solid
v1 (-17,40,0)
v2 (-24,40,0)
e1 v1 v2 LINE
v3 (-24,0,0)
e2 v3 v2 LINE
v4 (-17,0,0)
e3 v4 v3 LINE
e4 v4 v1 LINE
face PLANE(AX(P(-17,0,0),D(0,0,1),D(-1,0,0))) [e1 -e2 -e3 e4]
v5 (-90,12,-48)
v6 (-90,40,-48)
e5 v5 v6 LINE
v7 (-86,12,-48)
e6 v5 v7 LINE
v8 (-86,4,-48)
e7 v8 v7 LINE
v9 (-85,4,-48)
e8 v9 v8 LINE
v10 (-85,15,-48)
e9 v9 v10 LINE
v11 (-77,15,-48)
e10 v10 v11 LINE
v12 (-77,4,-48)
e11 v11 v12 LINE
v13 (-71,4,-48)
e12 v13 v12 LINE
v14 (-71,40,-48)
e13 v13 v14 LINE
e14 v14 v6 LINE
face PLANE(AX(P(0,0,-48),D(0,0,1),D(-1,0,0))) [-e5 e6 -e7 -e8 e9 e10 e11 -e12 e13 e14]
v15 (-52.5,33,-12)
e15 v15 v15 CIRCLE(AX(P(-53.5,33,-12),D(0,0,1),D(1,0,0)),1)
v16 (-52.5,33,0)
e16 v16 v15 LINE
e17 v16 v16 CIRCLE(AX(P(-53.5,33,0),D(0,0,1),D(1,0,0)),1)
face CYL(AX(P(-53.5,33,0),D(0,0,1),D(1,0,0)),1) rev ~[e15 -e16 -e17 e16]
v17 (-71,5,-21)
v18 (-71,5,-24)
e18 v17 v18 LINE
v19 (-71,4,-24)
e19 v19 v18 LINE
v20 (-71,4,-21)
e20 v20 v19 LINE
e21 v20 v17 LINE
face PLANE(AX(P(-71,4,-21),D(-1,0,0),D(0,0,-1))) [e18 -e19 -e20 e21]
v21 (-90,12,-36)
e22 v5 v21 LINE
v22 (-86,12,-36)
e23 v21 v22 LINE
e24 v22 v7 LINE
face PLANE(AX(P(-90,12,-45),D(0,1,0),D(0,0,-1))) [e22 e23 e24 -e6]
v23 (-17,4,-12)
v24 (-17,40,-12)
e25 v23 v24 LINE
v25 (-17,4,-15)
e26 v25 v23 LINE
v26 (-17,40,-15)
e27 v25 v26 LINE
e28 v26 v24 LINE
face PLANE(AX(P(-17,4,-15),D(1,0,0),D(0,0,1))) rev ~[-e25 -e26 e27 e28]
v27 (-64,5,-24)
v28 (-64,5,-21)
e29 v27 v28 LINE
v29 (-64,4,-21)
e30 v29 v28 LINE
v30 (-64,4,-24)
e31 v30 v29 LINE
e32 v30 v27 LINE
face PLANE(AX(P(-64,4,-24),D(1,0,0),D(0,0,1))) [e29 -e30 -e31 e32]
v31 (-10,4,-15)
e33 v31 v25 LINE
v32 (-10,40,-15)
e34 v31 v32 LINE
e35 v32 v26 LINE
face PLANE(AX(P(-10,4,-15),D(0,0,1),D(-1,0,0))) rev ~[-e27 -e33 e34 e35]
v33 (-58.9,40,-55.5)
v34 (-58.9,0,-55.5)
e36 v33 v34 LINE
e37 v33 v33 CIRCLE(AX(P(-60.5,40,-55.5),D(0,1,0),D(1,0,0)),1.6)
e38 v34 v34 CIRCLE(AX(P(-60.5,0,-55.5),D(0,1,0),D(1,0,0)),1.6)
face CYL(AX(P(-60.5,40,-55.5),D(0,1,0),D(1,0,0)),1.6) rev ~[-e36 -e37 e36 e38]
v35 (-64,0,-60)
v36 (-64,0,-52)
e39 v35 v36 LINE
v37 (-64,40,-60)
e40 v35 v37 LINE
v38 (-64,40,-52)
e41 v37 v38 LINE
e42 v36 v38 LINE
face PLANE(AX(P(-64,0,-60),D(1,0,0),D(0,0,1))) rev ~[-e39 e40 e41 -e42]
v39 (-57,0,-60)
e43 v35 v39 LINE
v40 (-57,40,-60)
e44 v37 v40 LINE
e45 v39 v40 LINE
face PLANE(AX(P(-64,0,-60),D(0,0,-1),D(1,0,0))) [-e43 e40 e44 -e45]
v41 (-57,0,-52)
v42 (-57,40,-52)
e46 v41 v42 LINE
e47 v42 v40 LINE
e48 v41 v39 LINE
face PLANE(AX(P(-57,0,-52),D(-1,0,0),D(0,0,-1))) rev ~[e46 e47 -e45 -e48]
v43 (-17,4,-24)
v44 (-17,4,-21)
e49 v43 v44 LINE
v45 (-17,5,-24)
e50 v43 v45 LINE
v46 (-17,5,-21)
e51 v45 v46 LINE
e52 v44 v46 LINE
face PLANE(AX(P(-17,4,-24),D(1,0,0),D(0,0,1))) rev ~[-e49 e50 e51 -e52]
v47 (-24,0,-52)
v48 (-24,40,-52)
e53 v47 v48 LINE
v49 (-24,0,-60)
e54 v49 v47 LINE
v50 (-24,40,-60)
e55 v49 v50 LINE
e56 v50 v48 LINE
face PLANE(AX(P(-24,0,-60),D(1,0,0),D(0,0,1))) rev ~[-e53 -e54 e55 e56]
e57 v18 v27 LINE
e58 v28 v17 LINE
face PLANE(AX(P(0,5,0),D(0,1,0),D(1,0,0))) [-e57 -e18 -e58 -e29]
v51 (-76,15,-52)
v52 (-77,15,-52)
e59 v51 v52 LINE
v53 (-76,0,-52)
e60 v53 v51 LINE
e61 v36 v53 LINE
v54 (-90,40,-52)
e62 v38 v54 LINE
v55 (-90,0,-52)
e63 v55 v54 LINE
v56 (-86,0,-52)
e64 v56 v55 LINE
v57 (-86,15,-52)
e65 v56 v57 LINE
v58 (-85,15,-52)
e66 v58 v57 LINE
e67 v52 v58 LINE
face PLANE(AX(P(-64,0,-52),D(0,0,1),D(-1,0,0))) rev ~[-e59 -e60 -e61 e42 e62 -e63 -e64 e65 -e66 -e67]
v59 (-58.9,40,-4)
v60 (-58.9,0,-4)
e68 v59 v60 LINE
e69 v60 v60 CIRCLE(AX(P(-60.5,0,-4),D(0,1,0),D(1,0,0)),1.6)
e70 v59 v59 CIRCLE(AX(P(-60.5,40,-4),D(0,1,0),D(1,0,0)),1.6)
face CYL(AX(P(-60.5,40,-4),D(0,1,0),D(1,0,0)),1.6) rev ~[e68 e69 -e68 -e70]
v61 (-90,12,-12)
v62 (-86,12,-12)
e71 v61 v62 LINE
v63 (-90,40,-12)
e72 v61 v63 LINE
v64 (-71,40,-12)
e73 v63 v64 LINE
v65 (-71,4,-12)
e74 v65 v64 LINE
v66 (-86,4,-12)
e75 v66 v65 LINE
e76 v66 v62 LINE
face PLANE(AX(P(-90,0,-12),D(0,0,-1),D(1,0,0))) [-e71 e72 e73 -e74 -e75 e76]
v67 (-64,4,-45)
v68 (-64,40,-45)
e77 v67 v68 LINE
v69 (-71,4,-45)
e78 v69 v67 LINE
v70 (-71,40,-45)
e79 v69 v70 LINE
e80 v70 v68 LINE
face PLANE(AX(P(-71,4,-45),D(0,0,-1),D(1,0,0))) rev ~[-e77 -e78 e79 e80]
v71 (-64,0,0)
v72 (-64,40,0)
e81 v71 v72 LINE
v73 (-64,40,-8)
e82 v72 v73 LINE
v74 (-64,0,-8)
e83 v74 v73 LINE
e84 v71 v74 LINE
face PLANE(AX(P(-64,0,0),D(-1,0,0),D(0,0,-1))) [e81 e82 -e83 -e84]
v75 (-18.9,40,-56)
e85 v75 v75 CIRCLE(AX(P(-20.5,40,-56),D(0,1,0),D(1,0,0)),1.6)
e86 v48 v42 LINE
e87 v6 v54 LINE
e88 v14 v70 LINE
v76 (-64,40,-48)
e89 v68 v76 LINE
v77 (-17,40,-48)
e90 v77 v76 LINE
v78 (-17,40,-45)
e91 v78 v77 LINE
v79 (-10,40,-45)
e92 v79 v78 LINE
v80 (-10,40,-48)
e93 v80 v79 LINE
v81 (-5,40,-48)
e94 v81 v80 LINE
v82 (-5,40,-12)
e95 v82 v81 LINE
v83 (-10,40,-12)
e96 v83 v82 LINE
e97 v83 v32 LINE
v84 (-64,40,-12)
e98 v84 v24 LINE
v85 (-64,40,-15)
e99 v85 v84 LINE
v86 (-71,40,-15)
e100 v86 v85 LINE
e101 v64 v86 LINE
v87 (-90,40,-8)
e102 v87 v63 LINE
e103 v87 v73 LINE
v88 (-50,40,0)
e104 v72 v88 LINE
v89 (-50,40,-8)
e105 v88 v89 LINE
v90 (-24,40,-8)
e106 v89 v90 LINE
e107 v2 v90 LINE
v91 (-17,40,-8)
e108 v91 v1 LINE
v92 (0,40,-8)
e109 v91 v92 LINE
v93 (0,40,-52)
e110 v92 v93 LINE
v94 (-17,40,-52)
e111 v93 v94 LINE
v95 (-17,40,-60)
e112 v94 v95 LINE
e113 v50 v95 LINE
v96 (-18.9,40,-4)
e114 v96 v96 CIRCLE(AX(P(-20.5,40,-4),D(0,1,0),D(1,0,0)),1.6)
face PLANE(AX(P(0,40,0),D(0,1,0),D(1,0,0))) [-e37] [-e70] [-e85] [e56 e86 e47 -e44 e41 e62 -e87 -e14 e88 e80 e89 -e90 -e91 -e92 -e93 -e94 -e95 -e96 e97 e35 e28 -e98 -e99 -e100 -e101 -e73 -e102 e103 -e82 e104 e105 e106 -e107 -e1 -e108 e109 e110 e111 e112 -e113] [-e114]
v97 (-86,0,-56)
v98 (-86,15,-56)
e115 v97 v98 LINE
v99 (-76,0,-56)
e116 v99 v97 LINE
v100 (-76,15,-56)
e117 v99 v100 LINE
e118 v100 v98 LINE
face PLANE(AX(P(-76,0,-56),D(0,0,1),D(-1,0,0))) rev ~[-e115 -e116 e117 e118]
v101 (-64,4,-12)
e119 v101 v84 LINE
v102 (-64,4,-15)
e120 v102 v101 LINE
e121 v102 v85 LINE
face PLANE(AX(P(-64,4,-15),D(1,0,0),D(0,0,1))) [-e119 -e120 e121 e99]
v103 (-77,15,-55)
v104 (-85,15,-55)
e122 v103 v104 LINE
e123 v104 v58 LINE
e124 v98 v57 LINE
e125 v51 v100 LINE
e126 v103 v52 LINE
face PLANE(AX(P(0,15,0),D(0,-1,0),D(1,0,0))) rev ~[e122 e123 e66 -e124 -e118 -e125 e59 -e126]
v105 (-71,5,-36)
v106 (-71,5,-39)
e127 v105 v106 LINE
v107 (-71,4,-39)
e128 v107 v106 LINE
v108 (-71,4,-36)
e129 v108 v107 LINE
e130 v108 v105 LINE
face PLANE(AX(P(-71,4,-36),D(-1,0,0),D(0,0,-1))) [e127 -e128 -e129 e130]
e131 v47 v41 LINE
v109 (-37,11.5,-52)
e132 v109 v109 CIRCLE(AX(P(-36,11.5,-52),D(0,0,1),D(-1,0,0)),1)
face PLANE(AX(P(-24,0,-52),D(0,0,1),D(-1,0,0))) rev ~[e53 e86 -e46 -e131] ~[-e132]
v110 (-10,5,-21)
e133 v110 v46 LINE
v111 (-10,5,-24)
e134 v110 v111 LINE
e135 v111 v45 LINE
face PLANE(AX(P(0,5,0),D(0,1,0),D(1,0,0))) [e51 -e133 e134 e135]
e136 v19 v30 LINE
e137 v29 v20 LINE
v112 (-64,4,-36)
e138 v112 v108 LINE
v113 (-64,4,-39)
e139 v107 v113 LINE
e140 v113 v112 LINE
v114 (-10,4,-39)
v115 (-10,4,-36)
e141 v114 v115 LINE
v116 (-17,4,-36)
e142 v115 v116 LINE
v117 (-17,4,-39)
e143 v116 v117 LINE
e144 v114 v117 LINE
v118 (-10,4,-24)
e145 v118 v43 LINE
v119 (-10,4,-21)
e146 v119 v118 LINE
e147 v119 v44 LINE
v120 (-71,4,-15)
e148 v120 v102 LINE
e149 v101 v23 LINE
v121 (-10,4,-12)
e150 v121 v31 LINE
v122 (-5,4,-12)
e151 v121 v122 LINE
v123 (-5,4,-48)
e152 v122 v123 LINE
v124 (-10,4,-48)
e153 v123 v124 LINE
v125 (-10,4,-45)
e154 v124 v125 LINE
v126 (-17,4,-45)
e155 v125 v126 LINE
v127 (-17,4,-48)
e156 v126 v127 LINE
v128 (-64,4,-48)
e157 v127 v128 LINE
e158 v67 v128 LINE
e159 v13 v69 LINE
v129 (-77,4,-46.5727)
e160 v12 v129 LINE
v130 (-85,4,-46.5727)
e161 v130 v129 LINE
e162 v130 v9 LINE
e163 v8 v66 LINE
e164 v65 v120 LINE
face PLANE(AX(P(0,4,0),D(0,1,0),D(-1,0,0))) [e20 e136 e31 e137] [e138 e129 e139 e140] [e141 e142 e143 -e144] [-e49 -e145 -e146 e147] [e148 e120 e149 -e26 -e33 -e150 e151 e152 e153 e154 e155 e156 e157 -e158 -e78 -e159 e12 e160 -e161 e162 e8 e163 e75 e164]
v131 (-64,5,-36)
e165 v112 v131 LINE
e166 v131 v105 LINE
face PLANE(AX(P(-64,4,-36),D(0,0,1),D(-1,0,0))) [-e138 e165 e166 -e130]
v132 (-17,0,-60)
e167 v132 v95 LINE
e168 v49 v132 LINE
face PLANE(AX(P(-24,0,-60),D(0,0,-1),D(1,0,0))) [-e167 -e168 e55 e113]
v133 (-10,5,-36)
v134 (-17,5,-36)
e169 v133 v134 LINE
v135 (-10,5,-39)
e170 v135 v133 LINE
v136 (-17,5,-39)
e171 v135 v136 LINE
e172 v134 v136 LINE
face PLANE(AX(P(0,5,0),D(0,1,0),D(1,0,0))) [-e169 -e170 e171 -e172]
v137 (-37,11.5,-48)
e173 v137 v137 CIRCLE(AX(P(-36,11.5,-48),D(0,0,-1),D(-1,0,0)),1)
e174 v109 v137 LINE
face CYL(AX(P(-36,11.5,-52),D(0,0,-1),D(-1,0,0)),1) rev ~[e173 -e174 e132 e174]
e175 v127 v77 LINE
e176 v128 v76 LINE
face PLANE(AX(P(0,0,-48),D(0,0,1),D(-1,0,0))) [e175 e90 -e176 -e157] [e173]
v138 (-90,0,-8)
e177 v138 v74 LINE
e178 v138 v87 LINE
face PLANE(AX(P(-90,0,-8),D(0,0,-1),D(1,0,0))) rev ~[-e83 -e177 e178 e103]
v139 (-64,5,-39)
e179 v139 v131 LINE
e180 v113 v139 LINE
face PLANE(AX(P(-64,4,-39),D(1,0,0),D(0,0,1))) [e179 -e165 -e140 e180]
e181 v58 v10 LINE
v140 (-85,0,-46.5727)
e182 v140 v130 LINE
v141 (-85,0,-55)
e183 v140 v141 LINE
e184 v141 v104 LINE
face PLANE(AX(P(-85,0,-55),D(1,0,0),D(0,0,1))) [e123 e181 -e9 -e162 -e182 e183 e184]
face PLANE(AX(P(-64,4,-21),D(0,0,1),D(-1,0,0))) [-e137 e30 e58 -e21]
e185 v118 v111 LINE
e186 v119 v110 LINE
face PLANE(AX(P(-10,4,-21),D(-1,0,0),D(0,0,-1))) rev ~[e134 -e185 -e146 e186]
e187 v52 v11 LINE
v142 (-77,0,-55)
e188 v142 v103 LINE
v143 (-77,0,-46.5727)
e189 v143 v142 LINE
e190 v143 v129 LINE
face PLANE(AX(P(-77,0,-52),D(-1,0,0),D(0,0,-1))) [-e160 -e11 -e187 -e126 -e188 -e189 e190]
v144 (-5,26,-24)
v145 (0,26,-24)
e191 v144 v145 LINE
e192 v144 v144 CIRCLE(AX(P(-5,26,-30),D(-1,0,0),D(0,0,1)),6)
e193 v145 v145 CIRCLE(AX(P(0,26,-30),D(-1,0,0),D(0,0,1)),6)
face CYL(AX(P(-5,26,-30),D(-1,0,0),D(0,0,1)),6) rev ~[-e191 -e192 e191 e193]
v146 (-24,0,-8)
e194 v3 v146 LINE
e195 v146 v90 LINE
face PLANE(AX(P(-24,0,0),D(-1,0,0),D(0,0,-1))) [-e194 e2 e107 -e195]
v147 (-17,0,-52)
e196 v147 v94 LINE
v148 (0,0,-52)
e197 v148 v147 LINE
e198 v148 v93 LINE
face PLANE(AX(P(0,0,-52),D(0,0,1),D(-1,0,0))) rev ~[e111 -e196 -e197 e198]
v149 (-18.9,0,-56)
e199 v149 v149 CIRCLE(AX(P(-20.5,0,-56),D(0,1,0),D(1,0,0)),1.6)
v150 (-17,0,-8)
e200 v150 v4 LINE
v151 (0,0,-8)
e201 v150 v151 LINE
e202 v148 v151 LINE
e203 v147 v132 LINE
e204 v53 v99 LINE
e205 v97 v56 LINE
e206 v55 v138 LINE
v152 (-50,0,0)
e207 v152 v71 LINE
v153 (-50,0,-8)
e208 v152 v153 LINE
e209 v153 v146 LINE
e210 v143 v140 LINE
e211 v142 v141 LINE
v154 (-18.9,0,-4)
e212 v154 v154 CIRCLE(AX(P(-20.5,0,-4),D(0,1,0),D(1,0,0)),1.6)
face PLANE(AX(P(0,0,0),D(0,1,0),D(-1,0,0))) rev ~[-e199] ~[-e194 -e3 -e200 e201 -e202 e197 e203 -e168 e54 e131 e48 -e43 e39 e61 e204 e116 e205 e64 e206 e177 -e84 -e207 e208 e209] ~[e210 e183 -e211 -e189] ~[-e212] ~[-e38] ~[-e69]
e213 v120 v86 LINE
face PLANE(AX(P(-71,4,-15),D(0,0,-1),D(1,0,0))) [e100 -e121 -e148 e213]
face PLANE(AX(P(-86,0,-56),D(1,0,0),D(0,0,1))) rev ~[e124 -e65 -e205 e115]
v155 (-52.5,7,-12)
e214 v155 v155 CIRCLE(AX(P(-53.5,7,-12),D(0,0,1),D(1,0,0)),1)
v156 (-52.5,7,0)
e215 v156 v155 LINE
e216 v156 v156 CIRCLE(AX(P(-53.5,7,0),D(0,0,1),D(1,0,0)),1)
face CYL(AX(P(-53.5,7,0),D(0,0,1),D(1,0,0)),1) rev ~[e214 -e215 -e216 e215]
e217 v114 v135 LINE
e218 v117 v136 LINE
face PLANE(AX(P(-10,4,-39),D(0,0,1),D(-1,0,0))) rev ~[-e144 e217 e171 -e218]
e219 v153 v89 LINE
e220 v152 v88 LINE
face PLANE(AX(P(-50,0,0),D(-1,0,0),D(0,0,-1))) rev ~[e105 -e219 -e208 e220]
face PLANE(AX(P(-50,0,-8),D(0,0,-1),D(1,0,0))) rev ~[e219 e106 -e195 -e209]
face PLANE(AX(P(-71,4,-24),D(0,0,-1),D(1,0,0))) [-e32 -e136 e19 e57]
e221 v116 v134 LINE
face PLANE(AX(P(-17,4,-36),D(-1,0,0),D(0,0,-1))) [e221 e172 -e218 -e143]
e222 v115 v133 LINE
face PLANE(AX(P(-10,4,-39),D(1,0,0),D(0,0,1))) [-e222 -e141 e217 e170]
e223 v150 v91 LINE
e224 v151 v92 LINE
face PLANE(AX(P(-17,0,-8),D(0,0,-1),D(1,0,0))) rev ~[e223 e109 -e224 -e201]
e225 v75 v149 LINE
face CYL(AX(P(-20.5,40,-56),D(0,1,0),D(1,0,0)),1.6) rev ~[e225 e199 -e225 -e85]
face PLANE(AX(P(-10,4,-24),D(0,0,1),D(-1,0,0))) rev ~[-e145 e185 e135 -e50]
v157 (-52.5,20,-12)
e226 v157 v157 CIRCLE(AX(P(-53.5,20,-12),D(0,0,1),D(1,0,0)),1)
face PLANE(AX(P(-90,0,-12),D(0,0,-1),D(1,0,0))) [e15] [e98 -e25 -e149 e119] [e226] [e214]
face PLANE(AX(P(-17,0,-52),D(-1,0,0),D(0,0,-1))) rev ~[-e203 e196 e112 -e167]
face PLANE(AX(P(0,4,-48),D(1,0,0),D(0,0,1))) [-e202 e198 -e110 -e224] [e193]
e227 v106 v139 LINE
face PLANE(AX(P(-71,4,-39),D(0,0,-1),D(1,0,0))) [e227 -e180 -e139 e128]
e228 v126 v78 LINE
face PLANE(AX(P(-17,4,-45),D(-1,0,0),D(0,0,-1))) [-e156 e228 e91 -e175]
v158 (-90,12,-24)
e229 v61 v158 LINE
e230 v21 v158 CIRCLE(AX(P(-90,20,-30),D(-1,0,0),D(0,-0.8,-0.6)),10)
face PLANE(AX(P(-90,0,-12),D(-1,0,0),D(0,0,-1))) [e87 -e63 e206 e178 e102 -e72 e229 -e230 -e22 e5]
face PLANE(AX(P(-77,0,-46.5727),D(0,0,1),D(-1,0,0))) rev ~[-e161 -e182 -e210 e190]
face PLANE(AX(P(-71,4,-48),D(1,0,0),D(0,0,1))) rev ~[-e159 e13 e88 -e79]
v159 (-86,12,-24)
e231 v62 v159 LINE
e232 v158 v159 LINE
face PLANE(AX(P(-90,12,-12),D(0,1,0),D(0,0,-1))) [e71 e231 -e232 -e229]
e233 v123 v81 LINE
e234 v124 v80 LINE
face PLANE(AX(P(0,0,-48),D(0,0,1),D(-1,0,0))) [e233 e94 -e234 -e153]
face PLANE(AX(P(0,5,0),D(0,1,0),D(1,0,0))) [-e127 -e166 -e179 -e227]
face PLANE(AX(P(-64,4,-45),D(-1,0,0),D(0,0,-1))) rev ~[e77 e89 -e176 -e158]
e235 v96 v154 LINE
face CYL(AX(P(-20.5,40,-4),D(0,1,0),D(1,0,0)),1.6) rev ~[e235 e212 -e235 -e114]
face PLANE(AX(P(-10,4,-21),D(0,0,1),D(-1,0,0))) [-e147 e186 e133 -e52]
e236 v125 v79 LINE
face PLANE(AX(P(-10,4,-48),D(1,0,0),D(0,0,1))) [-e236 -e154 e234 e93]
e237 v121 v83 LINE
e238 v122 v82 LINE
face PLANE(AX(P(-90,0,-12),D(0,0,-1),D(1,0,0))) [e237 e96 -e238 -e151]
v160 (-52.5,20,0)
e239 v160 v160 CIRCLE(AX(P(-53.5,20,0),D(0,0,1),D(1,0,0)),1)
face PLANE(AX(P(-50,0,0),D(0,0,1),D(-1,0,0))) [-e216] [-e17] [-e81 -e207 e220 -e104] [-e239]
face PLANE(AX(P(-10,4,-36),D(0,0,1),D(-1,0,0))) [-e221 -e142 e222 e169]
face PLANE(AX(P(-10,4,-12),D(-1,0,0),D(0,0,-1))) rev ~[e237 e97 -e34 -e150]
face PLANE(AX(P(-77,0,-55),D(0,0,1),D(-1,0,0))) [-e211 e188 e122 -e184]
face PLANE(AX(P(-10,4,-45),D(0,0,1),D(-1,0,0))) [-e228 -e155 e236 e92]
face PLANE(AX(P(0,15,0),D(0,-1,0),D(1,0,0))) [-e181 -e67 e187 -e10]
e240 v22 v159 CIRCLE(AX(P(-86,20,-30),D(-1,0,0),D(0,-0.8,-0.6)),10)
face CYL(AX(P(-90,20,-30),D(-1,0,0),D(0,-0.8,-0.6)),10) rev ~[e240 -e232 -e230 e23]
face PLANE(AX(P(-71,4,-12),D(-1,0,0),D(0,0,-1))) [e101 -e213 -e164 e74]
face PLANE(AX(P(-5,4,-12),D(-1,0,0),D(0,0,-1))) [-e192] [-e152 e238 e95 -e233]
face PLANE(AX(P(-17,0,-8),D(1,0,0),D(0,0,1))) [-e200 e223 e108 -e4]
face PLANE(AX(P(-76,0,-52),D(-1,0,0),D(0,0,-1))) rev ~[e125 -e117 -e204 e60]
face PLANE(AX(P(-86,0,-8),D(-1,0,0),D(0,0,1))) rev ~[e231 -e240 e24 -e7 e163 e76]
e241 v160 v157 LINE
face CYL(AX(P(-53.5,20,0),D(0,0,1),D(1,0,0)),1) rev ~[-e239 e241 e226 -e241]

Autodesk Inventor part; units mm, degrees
ref_plane "YZ Plane" through (0, 0, 0) normal (1, 0, 0) x (0, 1, 0)
ref_plane "XZ Plane" through (0, 0, 0) normal (0, 1, 0) x (-1, 0, 0)
ref_plane "XY Plane" through (0, 0, 0) normal (0, 0, 1) x (1, 0, 0)
sketch "Sketch1" plane through (0, 0, 0) normal (0, 1, 0) x (-1, 0, 0)
  line L0 (0, 0) -> (90, 0)
  line L1 (90, 0) -> (90, -52)
  line L2 (90, -60) -> (0, -60)
  line L3 (0, -60) -> (0, 0)
  line L4 (0, 0) -> (90, 0)
  line L5 (90, 0) -> (90, -8)
  line L6 (90, -8) -> (0, -8)
  line L7 (0, -8) -> (0, 0)
  line L8 (90, -60) -> (0, -60)
  line L9 (0, -60) -> (0, -52)
  line L10 (0, -52) -> (90, -52)
  line L11 (90, -52) -> (90, -60)
  line L12 (0, -8) -> (90, -8)
  line L13 (90, -8) -> (90, -12)
  line L14 (90, -12) -> (0, -12)
  line L15 (0, -12) -> (0, -8)
  line L16 (90, -52) -> (0, -52)
  line L17 (0, -52) -> (0, -48)
  line L18 (0, -48) -> (90, -48)
  line L19 (90, -48) -> (90, -52)
  line L20 (90, 0) -> (64, 0)
  line L21 (64, 0) -> (64, -8)
  line L22 (64, -8) -> (90, -8)
  line L23 (90, -8) -> (90, 0)
  line L24 (64, -8) -> (57, -8)
  line L25 (57, -8) -> (57, 0)
  line L26 (57, 0) -> (64, 0)
  line L27 (64, 0) -> (64, -8)
  line L28 (57, 0) -> (24, 0)
  line L29 (24, 0) -> (24, -8)
  line L30 (24, -8) -> (57, -8)
  line L31 (57, -8) -> (57, 0)
  line L32 (24, -8) -> (17, -8)
  line L33 (17, -8) -> (17, 0)
  line L34 (17, 0) -> (24, 0)
  line L35 (24, 0) -> (24, -8)
  line L36 (57, 0) -> (50, 0)
  line L37 (50, 0) -> (50, -8)
  line L38 (50, -8) -> (57, -8)
  line L39 (57, -8) -> (57, 0)
  line L40 (64, -52) -> (57, -52)
  line L41 (57, -52) -> (57, -60)
  line L42 (57, -60) -> (64, -60)
  line L43 (64, -60) -> (64, -52)
  line L44 (24, -52) -> (17, -52)
  line L45 (17, -52) -> (17, -60)
  line L46 (17, -60) -> (24, -60)
  line L47 (24, -60) -> (24, -52)
  dimension "d0" = 90
  dimension "d1" = 60
  dimension "d49" = 8
  dimension "d50" = 8
extrude "Extrusion1" add sketch "Sketch1" along normal blind 4 contours L14 L1 L18 L3
extrude "Extrusion2" add sketch "Sketch1" along normal blind 40 contours L0 L29 L6 L33 | L6 L1 L14 L3 | L0 L25 L6 L37 | L18 L1 L10 L3 | L0 L21 L6 L25 | L10 L47 L2 L45 | L43 L2 L41 L10
sketch "Sketch2" plane through (0, 40, 0) normal (0, 1, 0) x (1, 0, 0)
  line L0 (-64, 60) -> (-64, 52) projected
  line L1 (-57, 52) -> (-57, 60) projected
  circle A0 centre (-60.5, 55.5) radius 1.6
  line L2 (-24, 60) -> (-24, 52) projected
  circle A1 centre (-20.5, 56) radius 1.6
  line L3 (-90, 8) -> (-64, 8) projected
  circle A2 centre (-60.5, 4) radius 1.6
  line L4 (-17, 0) -> (-17, 8) projected
  line L5 (-24, 0) -> (-17, 0) projected
  circle A3 centre (-20.5, 4) radius 1.6
  point P0 (0, 0)
  point P1 (-17, 52)
  dimension "d6" = 3.2
  dimension "d7" = 3.2
  dimension "d9" = 3.2
  dimension "d10" = 3.2
extrude "Extrusion3" cut sketch "Sketch2" against normal blind 100
sketch "Sketch3" plane through (-64, 0, 0) normal (0, 0, 1) x (1, 0, 0)
  line L0 (0, 0) -> (14, 0) projected
  line L1 (7, 0) -> (7, 40) projected
  line L2 (7, 0) -> (7, 40)
  line L3 (0, 40) -> (14, 40) projected
  circle A0 centre (10.5, 20) radius 1
  circle A1 centre (10.5, 33) radius 1
  circle A2 centre (10.5, 7) radius 1
  point P0 (64, 0)
  dimension "d13" = 2
extrude "Extrusion4" cut sketch "Sketch3" against normal blind 30
sketch "Sketch4" plane through (0, 4, 0) normal (0, 1, 0) x (1, 0, 0)
  line L0 (0, 12) -> (-90, 12) projected
  line L1 (0, 48) -> (-90, 48) projected
  line L2 (-90, 12) -> (-86.8, 12)
  line L3 (-86.8, 12) -> (-86.8, 48)
  line L4 (-86.8, 48) -> (-90, 48)
  line L5 (-90, 48) -> (-90, 12)
  line L6 (0, 12) -> (-5, 12)
  line L7 (-5, 12) -> (-5, 48)
  line L8 (-5, 48) -> (0, 48)
  line L9 (0, 48) -> (0, 12)
  line L10 (-17, 12) -> (-10, 12)
  line L11 (-10, 12) -> (-10, 15)
  line L12 (-10, 15) -> (-17, 15)
  line L13 (-17, 15) -> (-17, 12)
  line L14 (-17, 48) -> (-10, 48)
  line L15 (-10, 48) -> (-10, 45)
  line L16 (-10, 45) -> (-17, 45)
  line L17 (-17, 45) -> (-17, 48)
  line L18 (-17, 15) -> (-10, 15)
  line L19 (-10, 21) -> (-17, 21)
  line L20 (-17, 21) -> (-10, 21)
  line L21 (-10, 21) -> (-10, 24)
  line L22 (-10, 24) -> (-17, 24)
  line L23 (-17, 24) -> (-17, 21)
  line L24 (-17, 45) -> (-10, 45)
  line L25 (-10, 39) -> (-17, 39)
  line L26 (-17, 39) -> (-10, 39)
  line L27 (-10, 39) -> (-10, 36)
  line L28 (-10, 36) -> (-17, 36)
  line L29 (-17, 36) -> (-17, 39)
  line L30 (-64, 12) -> (-71, 12)
  line L31 (-71, 12) -> (-71, 15)
  line L32 (-71, 15) -> (-64, 15)
  line L33 (-64, 15) -> (-64, 12)
  line L34 (-64, 21) -> (-71, 21)
  line L35 (-71, 21) -> (-71, 24)
  line L36 (-71, 24) -> (-64, 24)
  line L37 (-64, 24) -> (-64, 21)
  line L38 (-64, 36) -> (-71, 36)
  line L39 (-71, 36) -> (-71, 39)
  line L40 (-71, 39) -> (-64, 39)
  line L41 (-64, 39) -> (-64, 36)
  line L42 (-64, 48) -> (-71, 48)
  line L43 (-71, 48) -> (-71, 45)
  line L44 (-71, 45) -> (-64, 45)
  line L45 (-64, 45) -> (-64, 48)
  line L46 (-10, 48) -> (-17, 48)
  line L47 (-10, 12) -> (-17, 12)
  point P0 (0, 0)
  dimension "d16" = 3.2
extrude "Extrusion5" add sketch "Sketch4" along normal blind 36 contours L0 L7 L1 L9
extrude "Extrusion6" add sketch "Sketch4" along normal blind 36 contours L0 L13 L12 L11 | L15 L16 L17 L1 | L0 L31 L32 L33 | L45 L44 L43 L1
extrude "Extrusion7" add sketch "Sketch4" along normal blind 1 contours L19 L23 L22 L21 | L27 L28 L29 L25 | L34 L35 L36 L37 | L38 L39 L40 L41
sketch "Sketch5" plane through (-5, 4, -48) normal (-1, 0, 0) x (0, 0, 1)
  line L0 (0, 36) -> (36, 36) projected
  circle A0 centre (18, 22) radius 6
  point P0 (48, -4)
extrude "Extrusion8" cut sketch "Sketch5" against normal blind 20
sketch "Sketch6" plane through (-90, 0, -8) normal (-1, 0, 0) x (0, 0, 1)
  line L0 (0, 0) -> (-44, 0) projected
  line L1 (-40, 4) -> (-40, 40) projected
  arc A0 (-28, 12) -> (-16, 12) centre (-22, 20) ccw
  line L2 (-37, 4) -> (-37, 40) projected
  line L3 (-4, 12) -> (-16, 12)
  line L4 (-28, 12) -> (-37, 12)
  line L5 (-7, 4) -> (-4, 4) projected
  line L6 (-4, 4) -> (-4, 12)
  line L7 (-4, 40) -> (-4, 4) projected
  line L8 (-40, 4) -> (-4, 4)
  line L9 (-37, 12) -> (-40, 12)
  line L10 (-40, 12) -> (-40, 4)
  point P0 (8, 0)
  dimension "d30" = 20
extrude "Extrusion9" add sketch "Sketch6" against normal blind 4
sketch "Sketch8" plane through (0, 0, 0) normal (0, -1, 0) x (1, 0, 0)
  line L0 (-64, -52) -> (-90, -52) projected
  line L1 (-86, -52) -> (-76, -52)
  line L2 (-76, -52) -> (-76, -56)
  line L3 (-76, -56) -> (-86, -56)
  line L4 (-86, -56) -> (-86, -52)
  line L5 (-85, -52) -> (-77, -52)
  line L6 (-77, -52) -> (-77, -55)
  line L7 (-77, -55) -> (-85, -55)
  line L8 (-85, -55) -> (-85, -52)
  line L9 (-85, -55) -> (-77, -55)
  line L10 (-77, -55) -> (-77, -46.5727)
  line L11 (-77, -46.5727) -> (-85, -46.5727)
  line L12 (-85, -46.5727) -> (-85, -55)
  point P0 (0, 0)
extrude "Extrusion14" add sketch "Sketch8" against normal blind 15 contours L2 L3 L4 L0 L8 L7 L6 | L6 L7 L8 L0
extrude "Extrusion15" cut sketch "Sketch8" against normal blind 15 contours L6 L7 L8 L0 | L0 L12 L11 L10
sketch "Sketch9" plane through (0, 0, -52) normal (0, 0, -1) x (-1, 0, 0)
  line L0 (0, 0) -> (0, 40) projected
  line L1 (0, 0) -> (36, 0)
  line L2 (36, 0) -> (36, 11.5)
  line L3 (36, 11.5) -> (0, 11.5)
  line L4 (0, 11.5) -> (0, 0)
  circle A0 centre (36, 11.5) radius 1
  dimension "d45" = 11.5
  dimension "d46" = 2
extrude "Extrusion16" cut sketch "Sketch9" against normal blind 10 contours A0 L2 L3 | L3 L2 A0
sketch "Sketch10" plane through (-90, 0, -8) normal (-1, 0, 0) x (0, 0, 1)
  line L0 (-44, 0) -> (-52, 0) projected
  line L1 (-44, 0) -> (-44, 7)
  line L2 (-44, 0) -> (-44, 40) projected
  circle A0 centre (-33, 7) radius 1.2
  line L3 (0, 0) -> (0, 40) projected
  line L4 (0, 7) -> (11, 7) construction
  circle A1 centre (-11, 7) radius 1.2
  point P0 (8, 0)
  dimension "d51" = 2.4
  dimension "d54" = 2.4
properties part number "_3DPrint"
